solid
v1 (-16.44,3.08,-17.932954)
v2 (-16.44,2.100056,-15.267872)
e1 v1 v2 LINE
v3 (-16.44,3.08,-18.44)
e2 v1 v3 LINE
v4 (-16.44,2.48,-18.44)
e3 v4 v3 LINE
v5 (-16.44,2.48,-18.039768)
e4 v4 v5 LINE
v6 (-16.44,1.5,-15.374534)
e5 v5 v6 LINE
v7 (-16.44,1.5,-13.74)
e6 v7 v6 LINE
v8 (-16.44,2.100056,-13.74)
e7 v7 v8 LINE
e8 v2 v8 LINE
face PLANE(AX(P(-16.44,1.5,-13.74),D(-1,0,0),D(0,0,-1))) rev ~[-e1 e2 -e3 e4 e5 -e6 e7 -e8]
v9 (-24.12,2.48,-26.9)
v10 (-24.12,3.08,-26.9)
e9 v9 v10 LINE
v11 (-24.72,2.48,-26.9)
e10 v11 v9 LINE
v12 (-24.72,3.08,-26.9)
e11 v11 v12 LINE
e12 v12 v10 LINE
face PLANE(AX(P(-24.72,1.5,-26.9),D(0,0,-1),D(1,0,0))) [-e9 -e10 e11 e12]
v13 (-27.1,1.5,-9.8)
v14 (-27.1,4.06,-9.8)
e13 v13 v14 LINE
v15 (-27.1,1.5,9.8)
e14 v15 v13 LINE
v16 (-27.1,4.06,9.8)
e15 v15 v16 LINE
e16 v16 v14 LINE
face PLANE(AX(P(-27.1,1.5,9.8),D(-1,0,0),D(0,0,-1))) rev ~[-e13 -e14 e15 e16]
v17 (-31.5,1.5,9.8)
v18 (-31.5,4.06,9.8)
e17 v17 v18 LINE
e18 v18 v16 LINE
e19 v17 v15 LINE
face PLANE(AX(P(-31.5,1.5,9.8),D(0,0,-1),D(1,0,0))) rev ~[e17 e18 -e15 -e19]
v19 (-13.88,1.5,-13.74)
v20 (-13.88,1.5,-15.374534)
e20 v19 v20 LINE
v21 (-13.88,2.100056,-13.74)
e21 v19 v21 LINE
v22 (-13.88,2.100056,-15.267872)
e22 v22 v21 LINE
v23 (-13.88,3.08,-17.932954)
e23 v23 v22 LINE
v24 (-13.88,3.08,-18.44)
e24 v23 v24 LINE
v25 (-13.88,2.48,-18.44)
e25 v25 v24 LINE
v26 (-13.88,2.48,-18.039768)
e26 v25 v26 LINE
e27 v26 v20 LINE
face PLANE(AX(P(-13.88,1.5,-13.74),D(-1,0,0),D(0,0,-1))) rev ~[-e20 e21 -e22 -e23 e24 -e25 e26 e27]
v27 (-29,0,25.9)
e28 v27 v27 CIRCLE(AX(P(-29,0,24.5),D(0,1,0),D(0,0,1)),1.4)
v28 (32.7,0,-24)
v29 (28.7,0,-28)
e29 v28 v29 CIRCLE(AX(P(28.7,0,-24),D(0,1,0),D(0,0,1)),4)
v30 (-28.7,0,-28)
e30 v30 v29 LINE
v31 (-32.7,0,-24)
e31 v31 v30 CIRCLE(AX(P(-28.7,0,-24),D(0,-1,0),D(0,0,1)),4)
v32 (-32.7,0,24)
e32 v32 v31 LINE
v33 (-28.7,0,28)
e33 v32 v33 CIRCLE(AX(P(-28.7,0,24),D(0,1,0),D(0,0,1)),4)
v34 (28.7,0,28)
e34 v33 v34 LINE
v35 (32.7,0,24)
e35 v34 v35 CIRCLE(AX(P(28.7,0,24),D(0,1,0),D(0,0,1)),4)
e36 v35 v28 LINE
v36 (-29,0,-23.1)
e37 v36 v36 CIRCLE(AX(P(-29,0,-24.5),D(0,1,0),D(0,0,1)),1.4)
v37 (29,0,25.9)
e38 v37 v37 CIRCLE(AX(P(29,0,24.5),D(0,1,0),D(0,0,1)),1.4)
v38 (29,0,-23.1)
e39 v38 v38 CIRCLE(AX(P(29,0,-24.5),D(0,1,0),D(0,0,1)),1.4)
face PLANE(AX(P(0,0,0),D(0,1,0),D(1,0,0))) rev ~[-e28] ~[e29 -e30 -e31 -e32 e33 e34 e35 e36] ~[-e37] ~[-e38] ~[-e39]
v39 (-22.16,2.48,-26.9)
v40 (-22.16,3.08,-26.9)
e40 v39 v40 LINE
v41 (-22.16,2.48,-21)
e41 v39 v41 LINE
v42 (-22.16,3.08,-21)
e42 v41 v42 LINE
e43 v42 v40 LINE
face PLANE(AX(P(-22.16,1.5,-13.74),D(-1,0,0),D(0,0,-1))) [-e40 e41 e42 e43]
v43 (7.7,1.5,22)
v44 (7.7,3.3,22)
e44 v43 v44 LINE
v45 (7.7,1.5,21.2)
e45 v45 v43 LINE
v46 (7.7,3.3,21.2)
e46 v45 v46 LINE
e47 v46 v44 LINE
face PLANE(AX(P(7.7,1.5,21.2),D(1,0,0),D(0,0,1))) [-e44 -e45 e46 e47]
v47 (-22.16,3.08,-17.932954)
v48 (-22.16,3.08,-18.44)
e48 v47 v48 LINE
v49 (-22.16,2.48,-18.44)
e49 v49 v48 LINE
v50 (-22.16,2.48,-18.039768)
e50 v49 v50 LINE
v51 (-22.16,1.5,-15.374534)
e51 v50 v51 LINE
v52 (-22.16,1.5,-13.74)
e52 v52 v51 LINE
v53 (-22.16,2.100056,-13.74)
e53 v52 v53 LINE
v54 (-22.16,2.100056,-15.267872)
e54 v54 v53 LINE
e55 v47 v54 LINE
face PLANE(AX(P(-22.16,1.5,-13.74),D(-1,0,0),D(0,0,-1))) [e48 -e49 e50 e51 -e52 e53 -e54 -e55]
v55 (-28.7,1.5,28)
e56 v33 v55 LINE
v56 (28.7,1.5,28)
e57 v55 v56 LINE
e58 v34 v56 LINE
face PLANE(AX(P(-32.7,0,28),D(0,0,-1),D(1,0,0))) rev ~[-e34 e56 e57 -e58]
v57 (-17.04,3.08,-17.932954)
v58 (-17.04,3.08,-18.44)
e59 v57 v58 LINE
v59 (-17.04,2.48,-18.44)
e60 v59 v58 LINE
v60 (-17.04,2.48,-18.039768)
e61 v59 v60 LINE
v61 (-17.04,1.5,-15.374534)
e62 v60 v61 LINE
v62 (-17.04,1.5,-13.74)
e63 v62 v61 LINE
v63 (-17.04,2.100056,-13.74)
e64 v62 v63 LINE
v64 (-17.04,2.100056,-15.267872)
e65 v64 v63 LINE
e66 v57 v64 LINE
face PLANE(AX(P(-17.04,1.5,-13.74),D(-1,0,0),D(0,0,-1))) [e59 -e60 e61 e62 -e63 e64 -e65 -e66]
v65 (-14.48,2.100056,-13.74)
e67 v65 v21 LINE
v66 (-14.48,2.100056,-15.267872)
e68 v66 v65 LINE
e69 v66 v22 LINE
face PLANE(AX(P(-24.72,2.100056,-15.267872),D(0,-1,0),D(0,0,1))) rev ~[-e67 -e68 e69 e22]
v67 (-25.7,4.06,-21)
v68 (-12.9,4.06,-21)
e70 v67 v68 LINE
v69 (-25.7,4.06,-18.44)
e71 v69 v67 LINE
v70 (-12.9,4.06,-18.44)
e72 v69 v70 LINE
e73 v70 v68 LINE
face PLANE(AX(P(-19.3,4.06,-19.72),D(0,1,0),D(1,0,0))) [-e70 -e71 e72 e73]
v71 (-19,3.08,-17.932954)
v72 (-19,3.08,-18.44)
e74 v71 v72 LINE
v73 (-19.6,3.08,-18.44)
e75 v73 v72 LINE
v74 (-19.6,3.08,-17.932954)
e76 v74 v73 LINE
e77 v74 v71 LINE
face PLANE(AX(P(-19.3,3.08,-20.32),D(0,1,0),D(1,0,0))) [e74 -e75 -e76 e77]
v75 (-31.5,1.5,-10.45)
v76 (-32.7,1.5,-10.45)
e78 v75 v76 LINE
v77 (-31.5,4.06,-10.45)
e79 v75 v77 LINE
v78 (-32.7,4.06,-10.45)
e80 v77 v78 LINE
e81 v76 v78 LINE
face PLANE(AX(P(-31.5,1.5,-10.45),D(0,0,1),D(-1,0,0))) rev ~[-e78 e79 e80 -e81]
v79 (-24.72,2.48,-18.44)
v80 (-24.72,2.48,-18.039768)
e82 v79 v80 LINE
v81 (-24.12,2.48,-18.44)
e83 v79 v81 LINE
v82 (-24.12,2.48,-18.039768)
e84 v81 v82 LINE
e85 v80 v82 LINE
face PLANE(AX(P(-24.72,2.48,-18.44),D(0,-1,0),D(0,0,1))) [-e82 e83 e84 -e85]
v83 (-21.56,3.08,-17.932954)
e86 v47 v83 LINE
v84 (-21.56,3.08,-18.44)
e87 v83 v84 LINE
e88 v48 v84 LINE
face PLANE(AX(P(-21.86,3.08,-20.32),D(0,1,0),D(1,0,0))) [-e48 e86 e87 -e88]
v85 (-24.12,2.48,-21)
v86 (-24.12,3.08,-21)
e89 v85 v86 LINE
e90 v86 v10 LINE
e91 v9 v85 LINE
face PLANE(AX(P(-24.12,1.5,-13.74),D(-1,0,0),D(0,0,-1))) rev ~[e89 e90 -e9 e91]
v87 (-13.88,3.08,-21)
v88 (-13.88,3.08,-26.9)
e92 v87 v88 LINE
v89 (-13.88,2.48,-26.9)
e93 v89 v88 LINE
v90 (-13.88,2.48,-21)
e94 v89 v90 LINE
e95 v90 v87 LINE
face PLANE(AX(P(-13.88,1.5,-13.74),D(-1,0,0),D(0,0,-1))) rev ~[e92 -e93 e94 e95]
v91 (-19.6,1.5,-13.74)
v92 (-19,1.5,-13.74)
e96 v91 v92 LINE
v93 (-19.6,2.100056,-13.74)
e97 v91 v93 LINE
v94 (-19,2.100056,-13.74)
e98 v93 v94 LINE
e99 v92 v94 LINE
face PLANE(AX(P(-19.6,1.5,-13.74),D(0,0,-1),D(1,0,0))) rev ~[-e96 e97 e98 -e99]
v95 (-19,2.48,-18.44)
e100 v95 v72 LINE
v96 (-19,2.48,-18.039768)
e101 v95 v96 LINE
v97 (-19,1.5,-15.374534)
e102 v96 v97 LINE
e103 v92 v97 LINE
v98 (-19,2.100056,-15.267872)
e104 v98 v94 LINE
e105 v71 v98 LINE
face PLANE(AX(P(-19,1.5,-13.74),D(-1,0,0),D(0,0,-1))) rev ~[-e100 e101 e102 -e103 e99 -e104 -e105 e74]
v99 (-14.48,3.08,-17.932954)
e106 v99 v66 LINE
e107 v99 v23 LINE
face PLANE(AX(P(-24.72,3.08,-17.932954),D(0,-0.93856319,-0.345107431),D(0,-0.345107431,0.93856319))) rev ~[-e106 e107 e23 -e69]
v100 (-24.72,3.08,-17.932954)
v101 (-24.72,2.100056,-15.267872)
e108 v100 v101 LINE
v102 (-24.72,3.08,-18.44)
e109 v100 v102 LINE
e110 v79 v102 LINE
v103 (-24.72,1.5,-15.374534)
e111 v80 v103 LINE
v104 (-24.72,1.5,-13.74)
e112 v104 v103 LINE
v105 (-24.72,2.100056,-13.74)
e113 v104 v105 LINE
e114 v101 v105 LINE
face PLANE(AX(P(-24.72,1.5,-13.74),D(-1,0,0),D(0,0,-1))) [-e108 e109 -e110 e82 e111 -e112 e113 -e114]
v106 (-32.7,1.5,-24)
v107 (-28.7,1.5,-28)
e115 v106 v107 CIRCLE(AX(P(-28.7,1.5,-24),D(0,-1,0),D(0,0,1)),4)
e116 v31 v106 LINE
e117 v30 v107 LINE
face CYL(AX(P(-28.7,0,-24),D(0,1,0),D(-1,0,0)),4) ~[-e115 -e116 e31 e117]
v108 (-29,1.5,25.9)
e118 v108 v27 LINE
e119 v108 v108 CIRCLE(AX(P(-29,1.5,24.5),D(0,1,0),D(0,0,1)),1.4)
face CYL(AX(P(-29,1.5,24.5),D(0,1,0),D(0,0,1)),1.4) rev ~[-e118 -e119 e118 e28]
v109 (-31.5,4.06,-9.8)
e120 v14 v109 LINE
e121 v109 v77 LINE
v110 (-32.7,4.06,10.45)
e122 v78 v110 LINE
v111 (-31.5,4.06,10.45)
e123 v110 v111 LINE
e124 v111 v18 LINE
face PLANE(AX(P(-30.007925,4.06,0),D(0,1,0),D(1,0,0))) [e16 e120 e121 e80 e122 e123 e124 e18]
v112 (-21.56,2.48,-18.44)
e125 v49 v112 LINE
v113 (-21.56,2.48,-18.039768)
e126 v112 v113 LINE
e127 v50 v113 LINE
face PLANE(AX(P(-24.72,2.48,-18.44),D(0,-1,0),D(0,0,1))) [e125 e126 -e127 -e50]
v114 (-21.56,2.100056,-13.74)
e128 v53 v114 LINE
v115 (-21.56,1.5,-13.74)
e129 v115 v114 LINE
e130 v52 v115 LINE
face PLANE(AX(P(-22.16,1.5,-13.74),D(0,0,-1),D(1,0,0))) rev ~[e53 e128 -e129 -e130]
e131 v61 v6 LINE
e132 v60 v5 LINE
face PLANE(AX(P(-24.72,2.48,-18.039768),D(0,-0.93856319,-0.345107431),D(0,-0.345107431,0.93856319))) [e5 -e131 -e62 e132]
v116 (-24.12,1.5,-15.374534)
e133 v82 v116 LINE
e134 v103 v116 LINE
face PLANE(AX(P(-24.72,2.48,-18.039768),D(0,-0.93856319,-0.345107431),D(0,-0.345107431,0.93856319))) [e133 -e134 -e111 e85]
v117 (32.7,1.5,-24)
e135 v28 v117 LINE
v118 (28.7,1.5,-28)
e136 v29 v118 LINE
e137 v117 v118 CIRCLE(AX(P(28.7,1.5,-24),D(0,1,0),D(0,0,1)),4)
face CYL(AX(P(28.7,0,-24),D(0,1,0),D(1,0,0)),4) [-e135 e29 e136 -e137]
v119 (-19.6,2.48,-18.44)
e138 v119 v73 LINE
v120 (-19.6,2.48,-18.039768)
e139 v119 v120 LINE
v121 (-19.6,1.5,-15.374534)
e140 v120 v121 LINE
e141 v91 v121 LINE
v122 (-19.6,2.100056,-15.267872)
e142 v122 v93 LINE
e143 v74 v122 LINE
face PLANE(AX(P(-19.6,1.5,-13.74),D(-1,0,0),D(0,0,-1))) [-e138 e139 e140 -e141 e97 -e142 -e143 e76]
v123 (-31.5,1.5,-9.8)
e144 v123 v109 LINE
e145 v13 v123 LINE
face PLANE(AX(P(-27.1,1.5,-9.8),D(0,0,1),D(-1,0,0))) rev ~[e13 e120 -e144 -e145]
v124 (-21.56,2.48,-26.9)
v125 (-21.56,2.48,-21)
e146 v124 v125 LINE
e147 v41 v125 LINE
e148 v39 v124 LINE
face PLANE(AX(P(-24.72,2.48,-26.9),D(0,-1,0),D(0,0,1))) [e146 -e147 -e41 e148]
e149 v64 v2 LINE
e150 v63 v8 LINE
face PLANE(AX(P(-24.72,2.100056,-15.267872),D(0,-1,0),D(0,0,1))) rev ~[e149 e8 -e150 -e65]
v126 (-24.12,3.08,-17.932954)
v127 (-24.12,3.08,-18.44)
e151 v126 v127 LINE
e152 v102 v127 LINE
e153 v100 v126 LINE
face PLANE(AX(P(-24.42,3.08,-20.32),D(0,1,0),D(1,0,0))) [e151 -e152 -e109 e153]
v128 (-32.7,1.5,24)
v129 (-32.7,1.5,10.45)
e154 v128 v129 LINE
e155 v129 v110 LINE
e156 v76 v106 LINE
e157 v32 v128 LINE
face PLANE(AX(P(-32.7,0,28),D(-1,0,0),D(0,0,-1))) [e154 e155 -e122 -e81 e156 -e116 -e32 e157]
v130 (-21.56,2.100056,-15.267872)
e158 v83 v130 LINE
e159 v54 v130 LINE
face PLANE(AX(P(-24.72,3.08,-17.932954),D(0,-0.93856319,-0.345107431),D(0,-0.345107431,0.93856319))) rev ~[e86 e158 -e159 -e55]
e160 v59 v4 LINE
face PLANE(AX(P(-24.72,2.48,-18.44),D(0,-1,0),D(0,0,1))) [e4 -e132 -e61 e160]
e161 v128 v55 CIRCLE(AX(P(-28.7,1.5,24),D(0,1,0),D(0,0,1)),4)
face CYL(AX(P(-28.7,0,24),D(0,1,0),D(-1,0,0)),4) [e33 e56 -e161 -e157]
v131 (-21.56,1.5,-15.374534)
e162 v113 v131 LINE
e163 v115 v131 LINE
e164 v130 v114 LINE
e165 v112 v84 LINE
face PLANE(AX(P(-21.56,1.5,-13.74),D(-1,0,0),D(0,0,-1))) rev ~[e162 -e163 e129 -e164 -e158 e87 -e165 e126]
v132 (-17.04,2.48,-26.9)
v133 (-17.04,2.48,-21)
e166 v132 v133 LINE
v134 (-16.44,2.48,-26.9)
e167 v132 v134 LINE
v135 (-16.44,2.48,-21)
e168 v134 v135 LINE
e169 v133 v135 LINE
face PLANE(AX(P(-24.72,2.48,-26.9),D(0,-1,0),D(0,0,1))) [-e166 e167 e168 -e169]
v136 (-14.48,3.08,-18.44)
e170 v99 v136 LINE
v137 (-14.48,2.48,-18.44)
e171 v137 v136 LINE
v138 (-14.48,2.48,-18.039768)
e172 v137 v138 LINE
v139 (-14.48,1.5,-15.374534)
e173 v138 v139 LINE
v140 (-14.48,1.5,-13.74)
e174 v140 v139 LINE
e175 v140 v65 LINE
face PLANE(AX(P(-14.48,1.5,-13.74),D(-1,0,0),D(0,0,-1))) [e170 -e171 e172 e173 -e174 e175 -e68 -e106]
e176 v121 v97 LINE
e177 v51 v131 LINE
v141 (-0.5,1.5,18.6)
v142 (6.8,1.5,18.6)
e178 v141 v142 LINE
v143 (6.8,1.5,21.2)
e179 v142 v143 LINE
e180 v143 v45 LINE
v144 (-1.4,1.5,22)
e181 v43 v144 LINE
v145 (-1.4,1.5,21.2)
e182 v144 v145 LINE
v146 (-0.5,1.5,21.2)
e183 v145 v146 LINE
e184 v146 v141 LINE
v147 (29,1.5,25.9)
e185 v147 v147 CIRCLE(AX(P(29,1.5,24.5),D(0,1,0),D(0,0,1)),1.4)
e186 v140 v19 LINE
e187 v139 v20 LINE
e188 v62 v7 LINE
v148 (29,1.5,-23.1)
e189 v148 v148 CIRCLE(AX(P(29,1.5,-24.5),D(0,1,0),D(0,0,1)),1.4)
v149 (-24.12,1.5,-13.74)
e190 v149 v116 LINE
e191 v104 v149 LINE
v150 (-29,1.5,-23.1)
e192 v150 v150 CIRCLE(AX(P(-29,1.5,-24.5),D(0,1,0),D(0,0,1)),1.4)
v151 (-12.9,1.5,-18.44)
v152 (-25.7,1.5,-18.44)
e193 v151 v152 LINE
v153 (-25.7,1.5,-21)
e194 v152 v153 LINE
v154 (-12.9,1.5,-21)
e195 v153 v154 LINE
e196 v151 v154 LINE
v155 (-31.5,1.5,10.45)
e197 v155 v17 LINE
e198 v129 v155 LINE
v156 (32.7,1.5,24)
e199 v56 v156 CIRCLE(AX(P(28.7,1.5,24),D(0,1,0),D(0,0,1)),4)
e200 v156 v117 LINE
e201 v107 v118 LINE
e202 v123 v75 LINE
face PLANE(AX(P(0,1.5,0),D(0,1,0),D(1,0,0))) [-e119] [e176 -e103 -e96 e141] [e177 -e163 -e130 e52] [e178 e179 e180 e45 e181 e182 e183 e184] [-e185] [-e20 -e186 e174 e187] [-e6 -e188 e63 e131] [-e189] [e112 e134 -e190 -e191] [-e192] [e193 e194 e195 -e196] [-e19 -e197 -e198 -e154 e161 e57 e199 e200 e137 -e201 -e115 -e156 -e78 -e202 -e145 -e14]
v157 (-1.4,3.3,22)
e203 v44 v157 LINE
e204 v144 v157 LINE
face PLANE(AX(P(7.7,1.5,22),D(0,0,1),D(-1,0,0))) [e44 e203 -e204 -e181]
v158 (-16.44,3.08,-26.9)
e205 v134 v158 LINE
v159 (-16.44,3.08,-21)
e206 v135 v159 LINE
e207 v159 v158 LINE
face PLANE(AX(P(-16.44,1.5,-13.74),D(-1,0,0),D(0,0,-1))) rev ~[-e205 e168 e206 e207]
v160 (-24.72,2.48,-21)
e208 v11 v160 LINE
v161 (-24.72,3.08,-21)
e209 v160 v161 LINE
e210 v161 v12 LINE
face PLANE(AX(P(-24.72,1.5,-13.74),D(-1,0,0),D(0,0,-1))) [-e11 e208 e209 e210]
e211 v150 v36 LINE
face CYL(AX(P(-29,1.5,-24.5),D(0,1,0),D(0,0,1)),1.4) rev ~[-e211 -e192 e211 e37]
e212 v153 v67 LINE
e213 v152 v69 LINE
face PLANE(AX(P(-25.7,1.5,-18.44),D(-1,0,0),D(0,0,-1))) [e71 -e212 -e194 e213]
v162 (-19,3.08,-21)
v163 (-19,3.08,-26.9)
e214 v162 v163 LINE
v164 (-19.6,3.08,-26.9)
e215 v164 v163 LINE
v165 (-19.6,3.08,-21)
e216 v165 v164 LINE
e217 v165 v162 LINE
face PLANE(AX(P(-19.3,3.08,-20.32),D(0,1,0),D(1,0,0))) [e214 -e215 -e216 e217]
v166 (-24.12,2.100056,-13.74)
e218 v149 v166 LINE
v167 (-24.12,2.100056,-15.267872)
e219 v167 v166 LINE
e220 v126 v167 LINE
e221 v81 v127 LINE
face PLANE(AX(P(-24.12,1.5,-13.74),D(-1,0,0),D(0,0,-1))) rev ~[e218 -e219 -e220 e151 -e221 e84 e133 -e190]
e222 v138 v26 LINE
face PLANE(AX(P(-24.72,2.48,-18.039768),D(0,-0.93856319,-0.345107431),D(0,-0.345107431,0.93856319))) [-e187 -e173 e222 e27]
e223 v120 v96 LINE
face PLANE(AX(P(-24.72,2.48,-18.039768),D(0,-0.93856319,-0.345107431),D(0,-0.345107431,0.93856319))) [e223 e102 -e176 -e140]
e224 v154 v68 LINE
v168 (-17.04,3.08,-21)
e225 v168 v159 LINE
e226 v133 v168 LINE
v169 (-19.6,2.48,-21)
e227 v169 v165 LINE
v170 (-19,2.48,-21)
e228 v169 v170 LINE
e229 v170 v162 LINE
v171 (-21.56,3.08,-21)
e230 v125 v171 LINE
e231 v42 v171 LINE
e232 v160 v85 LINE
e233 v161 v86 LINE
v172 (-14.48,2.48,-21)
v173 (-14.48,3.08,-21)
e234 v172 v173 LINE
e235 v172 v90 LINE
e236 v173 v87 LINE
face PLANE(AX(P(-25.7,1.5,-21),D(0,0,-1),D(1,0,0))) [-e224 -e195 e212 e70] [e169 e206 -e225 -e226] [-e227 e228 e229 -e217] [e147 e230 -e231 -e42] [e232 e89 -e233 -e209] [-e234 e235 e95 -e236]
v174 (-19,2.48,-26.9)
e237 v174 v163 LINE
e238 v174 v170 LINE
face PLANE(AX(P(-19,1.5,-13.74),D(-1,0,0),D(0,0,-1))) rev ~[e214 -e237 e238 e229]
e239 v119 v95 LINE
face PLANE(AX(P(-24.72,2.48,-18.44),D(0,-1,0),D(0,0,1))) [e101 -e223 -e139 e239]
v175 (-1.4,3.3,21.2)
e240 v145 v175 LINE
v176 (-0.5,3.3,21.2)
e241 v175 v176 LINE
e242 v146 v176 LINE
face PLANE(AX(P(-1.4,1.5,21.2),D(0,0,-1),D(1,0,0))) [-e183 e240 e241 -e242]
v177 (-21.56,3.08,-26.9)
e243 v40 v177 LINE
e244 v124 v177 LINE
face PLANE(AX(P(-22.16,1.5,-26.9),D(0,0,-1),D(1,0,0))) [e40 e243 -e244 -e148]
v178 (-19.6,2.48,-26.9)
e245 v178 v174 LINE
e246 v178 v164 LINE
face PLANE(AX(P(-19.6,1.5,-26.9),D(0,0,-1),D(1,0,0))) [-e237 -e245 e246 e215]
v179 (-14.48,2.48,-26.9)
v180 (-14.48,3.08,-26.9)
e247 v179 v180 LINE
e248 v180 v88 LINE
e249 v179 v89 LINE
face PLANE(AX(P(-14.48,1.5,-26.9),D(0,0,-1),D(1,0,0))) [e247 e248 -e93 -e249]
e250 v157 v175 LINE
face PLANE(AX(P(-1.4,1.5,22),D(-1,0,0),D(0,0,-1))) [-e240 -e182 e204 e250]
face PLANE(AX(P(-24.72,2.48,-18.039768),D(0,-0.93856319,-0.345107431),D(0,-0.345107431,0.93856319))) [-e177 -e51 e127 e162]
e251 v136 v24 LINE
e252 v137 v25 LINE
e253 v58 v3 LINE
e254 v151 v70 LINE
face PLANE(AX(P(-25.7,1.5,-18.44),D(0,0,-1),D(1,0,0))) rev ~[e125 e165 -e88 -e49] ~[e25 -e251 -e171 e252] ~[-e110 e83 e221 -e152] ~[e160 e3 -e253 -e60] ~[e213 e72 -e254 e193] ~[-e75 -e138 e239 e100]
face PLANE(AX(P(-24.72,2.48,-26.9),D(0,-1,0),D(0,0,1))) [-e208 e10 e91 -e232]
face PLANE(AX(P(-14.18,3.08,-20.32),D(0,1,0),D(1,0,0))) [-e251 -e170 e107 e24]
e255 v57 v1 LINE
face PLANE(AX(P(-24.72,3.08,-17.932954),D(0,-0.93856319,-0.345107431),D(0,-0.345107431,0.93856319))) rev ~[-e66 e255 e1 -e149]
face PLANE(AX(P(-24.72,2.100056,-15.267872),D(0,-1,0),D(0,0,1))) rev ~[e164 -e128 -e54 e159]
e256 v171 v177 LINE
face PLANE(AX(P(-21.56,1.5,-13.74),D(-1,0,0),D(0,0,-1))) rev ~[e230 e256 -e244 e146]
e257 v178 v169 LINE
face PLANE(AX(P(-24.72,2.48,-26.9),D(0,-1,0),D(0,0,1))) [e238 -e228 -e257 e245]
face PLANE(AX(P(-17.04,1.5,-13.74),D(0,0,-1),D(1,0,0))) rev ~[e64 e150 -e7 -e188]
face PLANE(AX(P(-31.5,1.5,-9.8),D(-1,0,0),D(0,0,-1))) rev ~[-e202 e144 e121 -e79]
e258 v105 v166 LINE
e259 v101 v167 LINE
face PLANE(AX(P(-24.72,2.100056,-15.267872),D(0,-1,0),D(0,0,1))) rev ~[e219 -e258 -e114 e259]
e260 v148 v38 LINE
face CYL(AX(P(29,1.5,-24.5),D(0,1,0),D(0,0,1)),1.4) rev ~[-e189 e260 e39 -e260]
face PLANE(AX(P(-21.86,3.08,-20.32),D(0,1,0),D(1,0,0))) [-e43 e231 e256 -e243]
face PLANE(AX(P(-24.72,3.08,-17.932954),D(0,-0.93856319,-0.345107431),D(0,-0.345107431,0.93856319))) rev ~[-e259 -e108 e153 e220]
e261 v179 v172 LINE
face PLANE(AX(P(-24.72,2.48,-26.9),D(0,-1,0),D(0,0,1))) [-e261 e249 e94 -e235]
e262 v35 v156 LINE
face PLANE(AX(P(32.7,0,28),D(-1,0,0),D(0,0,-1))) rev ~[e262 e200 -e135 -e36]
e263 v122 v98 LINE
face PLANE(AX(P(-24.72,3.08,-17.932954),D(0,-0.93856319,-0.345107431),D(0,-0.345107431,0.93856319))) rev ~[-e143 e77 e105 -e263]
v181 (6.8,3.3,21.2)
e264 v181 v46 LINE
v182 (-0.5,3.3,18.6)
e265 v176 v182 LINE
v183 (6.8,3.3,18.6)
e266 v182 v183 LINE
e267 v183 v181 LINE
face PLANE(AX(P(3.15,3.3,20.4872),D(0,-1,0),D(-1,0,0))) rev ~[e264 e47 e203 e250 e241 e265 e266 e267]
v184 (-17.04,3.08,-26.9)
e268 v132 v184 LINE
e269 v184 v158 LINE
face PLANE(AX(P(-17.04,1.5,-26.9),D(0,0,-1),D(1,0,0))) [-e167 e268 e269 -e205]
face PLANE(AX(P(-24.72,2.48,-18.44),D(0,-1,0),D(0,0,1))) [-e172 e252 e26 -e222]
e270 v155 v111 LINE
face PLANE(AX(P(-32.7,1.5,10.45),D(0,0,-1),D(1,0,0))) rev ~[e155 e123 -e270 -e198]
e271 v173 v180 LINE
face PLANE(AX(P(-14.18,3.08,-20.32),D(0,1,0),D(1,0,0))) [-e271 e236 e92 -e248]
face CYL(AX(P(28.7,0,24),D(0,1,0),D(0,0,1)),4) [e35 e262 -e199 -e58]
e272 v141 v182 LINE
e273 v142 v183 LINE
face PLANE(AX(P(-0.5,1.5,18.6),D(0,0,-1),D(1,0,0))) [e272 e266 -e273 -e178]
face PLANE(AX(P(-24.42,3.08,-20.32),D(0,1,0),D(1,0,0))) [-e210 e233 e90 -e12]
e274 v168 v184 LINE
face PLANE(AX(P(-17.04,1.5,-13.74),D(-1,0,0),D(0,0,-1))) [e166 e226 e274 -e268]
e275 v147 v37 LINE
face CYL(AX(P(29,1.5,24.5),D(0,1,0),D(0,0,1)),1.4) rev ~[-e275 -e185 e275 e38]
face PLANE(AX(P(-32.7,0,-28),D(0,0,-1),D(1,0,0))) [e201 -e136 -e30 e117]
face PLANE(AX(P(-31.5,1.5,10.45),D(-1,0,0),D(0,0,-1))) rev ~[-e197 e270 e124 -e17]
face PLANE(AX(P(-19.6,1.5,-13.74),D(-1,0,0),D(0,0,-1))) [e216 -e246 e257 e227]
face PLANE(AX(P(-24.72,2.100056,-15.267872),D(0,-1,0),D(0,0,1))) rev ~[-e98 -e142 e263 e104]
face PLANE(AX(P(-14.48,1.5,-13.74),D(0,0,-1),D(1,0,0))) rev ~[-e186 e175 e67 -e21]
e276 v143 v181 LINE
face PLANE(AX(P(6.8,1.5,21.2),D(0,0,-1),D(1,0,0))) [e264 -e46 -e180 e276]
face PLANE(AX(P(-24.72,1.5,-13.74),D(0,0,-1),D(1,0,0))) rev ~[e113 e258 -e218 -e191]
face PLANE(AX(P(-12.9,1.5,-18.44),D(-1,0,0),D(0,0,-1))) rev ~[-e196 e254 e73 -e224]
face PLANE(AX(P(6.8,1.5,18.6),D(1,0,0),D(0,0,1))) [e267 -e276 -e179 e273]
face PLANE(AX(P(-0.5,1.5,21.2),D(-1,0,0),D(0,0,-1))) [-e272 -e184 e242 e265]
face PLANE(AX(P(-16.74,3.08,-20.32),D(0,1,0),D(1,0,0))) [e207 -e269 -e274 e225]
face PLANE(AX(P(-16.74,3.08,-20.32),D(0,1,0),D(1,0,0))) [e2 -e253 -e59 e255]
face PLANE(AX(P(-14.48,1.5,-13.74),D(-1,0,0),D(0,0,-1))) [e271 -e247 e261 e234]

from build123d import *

# Parameters (mm, degrees)
ESQUISSE1_W             = 65.4
ESQUISSE1_H             = 56
BOSS_EXTRU_1_DEPTH      = 1.5
CONG_1_R                = 4
ESQUISSE2_R             = 1.4
ENL_V_MAT_EXTRU_1_DEPTH = 1.5
ESQUISSE3_W             = 12.8
ESQUISSE3_H             = 2.56
BOSS_EXTRU_2_DEPTH      = 2.56
ESQUISSE4_W             = 0.6
ESQUISSE4_H             = 13.16
BOSS_EXTRU_3_DEPTH      = 1.58
ENL_V_MAT_EXTRU_2_REACH = 66.012
ESQUISSE5_W             = 5.9
ESQUISSE5_H             = 0.98
BOSS_EXTRU_4_DEPTH      = 2.56
BOSS_EXTRU_5_DEPTH      = 1.8


with BuildPart() as part:
    # Esquisse1 → Boss.-Extru.1 (new body)
    with BuildSketch(Plane(origin=(0, 0, 0), x_dir=(1, 0, 0), z_dir=(0, 1, 0))):
        Rectangle(ESQUISSE1_W, ESQUISSE1_H)
    extrude(amount=BOSS_EXTRU_1_DEPTH)

    # Congé1
    cong_1_edges = [part.edges().sort_by_distance(p)[0] for p in [
        (32.7, 0.75, 28),
        (-32.7, 0.75, 28),
        (-32.7, 0.75, -28),
        (32.7, 0.75, -28),
    ]]
    fillet(cong_1_edges, radius=CONG_1_R)

    # Esquisse2 → Enlèv. mat.-Extru.1 (cut)
    with BuildSketch(Plane(origin=(0, 1.5, 0), x_dir=(1, 0, 0), z_dir=(0, 1, 0))):
        with Locations(Location((-29, 24.5, 0), (0, 0, 270))):
            Circle(ESQUISSE2_R)
        with Locations(Location((-29, -24.5, 0), (0, 0, 270))):
            Circle(ESQUISSE2_R)
        with Locations(Location((29, -24.5, 0), (0, 0, 270))):
            Circle(ESQUISSE2_R)
        with Locations(Location((29, 24.5, 0), (0, 0, 270))):
            Circle(ESQUISSE2_R)
    extrude(amount=-ENL_V_MAT_EXTRU_1_DEPTH, mode=Mode.SUBTRACT)

    # Esquisse3 → Boss.-Extru.2 (add)
    with BuildSketch(Plane(origin=(0, 1.5, 0), x_dir=(1, 0, 0), z_dir=(0, 1, 0))):
        with Locations((-19.3, 19.72)):
            Rectangle(ESQUISSE3_W, ESQUISSE3_H)
    extrude(amount=BOSS_EXTRU_2_DEPTH)

    # Esquisse4 → Boss.-Extru.3 (add)
    with BuildSketch(Plane(origin=(0, 1.5, 0), x_dir=(1, 0, 0), z_dir=(0, 1, 0))):
        with Locations((-24.42, 20.32)):
            Rectangle(ESQUISSE4_W, ESQUISSE4_H)
        with Locations((-21.86, 20.32)):
            Rectangle(ESQUISSE4_W, ESQUISSE4_H)
        with Locations((-19.3, 20.32)):
            Rectangle(ESQUISSE4_W, ESQUISSE4_H)
        with Locations((-16.74, 20.32)):
            Rectangle(ESQUISSE4_W, ESQUISSE4_H)
        with Locations((-14.18, 20.32)):
            Rectangle(ESQUISSE4_W, ESQUISSE4_H)
    extrude(amount=BOSS_EXTRU_3_DEPTH)

    # Enlèv. mat.-Extru.2: up to this face of the body (flat: up to its plane)
    enl_v_mat_extru_2_end = Plane(part.part.faces().sort_by_distance((-13.88, 2.29, -16.09))[0])
    # Esquisse5 → Enlèv. mat.-Extru.2 (cut, up to the picked face)
    with BuildSketch(Plane.ZY.offset(24.72), mode=Mode.PRIVATE) as enl_v_mat_extru_2_sk1:
        with Locations((-23.95, 1.99)):
            Rectangle(ESQUISSE5_W, ESQUISSE5_H)
    enl_v_mat_extru_2_tool1 = split(extrude(enl_v_mat_extru_2_sk1.sketch, amount=-ENL_V_MAT_EXTRU_2_REACH, mode=Mode.PRIVATE), bisect_by=enl_v_mat_extru_2_end, keep=Keep.BOTH, mode=Mode.PRIVATE)
    # Esquisse5 → Enlèv. mat.-Extru.2 (cut, up to the picked face)
    with BuildSketch(Plane.ZY.offset(24.72), mode=Mode.PRIVATE) as enl_v_mat_extru_2_sk2:
        with BuildLine():
            Line((-17.9329542, 3.08), (-15.267871538, 2.100055504))
            Line((-15.267871538, 2.100055504), (-13.74, 2.100055504))
            ThreePointArc((-13.74, 2.100055504), (-13.106146425, 2.552094428), (-13.327063257, 3.298623259))
            Line((-13.327063257, 3.298623259), (-17.9329542, 3.47707173))
            Line((-17.9329542, 3.47707173), (-17.9329542, 3.08))
        make_face()
    enl_v_mat_extru_2_tool2 = split(extrude(enl_v_mat_extru_2_sk2.sketch, amount=-ENL_V_MAT_EXTRU_2_REACH, mode=Mode.PRIVATE), bisect_by=enl_v_mat_extru_2_end, keep=Keep.BOTH, mode=Mode.PRIVATE)
    # Esquisse5 → Enlèv. mat.-Extru.2 (cut, up to the picked face)
    with BuildSketch(Plane.ZY.offset(24.72), mode=Mode.PRIVATE) as enl_v_mat_extru_2_sk3:
        Polygon((-18.44, 2.48), (-18.039767565, 2.48), (-15.374533954, 1.5), (-18.44, 1.5), align=None)
    enl_v_mat_extru_2_tool3 = split(extrude(enl_v_mat_extru_2_sk3.sketch, amount=-ENL_V_MAT_EXTRU_2_REACH, mode=Mode.PRIVATE), bisect_by=enl_v_mat_extru_2_end, keep=Keep.BOTH, mode=Mode.PRIVATE)
    add(enl_v_mat_extru_2_tool1.solids().sort_by(Axis((-24.72, 1.99, -23.95), (1, 0, 0)))[0], mode=Mode.SUBTRACT)
    add(enl_v_mat_extru_2_tool2.solids().sort_by(Axis((-24.72, 2.834984, -15.224036), (1, 0, 0)))[0], mode=Mode.SUBTRACT)
    add(enl_v_mat_extru_2_tool3.solids().sort_by(Axis((-24.72, 1.864391, -17.402771), (1, 0, 0)))[0], mode=Mode.SUBTRACT)

    # Esquisse6 → Boss.-Extru.4 (add)
    with BuildSketch(Plane(origin=(0, 1.5, 0), x_dir=(1, 0, 0), z_dir=(0, 1, 0))):
        Polygon((-31.5, 10.45), (-32.7, 10.45), (-32.7, -10.45), (-31.5, -10.45), (-31.5, -9.8), (-27.1, -9.8), (-27.1, 9.8), (-31.5, 9.8), align=None)
    extrude(amount=BOSS_EXTRU_4_DEPTH)

    # Esquisse7 → Boss.-Extru.5 (add)
    with BuildSketch(Plane(origin=(0, 1.5, 0), x_dir=(1, 0, 0), z_dir=(0, 1, 0))):
        Polygon((-0.5, -18.6), (6.8, -18.6), (6.8, -21.2), (7.7, -21.2), (7.7, -22), (-1.4, -22), (-1.4, -21.2), (-0.5, -21.2), align=None)
    extrude(amount=BOSS_EXTRU_5_DEPTH)


solid = part.part
